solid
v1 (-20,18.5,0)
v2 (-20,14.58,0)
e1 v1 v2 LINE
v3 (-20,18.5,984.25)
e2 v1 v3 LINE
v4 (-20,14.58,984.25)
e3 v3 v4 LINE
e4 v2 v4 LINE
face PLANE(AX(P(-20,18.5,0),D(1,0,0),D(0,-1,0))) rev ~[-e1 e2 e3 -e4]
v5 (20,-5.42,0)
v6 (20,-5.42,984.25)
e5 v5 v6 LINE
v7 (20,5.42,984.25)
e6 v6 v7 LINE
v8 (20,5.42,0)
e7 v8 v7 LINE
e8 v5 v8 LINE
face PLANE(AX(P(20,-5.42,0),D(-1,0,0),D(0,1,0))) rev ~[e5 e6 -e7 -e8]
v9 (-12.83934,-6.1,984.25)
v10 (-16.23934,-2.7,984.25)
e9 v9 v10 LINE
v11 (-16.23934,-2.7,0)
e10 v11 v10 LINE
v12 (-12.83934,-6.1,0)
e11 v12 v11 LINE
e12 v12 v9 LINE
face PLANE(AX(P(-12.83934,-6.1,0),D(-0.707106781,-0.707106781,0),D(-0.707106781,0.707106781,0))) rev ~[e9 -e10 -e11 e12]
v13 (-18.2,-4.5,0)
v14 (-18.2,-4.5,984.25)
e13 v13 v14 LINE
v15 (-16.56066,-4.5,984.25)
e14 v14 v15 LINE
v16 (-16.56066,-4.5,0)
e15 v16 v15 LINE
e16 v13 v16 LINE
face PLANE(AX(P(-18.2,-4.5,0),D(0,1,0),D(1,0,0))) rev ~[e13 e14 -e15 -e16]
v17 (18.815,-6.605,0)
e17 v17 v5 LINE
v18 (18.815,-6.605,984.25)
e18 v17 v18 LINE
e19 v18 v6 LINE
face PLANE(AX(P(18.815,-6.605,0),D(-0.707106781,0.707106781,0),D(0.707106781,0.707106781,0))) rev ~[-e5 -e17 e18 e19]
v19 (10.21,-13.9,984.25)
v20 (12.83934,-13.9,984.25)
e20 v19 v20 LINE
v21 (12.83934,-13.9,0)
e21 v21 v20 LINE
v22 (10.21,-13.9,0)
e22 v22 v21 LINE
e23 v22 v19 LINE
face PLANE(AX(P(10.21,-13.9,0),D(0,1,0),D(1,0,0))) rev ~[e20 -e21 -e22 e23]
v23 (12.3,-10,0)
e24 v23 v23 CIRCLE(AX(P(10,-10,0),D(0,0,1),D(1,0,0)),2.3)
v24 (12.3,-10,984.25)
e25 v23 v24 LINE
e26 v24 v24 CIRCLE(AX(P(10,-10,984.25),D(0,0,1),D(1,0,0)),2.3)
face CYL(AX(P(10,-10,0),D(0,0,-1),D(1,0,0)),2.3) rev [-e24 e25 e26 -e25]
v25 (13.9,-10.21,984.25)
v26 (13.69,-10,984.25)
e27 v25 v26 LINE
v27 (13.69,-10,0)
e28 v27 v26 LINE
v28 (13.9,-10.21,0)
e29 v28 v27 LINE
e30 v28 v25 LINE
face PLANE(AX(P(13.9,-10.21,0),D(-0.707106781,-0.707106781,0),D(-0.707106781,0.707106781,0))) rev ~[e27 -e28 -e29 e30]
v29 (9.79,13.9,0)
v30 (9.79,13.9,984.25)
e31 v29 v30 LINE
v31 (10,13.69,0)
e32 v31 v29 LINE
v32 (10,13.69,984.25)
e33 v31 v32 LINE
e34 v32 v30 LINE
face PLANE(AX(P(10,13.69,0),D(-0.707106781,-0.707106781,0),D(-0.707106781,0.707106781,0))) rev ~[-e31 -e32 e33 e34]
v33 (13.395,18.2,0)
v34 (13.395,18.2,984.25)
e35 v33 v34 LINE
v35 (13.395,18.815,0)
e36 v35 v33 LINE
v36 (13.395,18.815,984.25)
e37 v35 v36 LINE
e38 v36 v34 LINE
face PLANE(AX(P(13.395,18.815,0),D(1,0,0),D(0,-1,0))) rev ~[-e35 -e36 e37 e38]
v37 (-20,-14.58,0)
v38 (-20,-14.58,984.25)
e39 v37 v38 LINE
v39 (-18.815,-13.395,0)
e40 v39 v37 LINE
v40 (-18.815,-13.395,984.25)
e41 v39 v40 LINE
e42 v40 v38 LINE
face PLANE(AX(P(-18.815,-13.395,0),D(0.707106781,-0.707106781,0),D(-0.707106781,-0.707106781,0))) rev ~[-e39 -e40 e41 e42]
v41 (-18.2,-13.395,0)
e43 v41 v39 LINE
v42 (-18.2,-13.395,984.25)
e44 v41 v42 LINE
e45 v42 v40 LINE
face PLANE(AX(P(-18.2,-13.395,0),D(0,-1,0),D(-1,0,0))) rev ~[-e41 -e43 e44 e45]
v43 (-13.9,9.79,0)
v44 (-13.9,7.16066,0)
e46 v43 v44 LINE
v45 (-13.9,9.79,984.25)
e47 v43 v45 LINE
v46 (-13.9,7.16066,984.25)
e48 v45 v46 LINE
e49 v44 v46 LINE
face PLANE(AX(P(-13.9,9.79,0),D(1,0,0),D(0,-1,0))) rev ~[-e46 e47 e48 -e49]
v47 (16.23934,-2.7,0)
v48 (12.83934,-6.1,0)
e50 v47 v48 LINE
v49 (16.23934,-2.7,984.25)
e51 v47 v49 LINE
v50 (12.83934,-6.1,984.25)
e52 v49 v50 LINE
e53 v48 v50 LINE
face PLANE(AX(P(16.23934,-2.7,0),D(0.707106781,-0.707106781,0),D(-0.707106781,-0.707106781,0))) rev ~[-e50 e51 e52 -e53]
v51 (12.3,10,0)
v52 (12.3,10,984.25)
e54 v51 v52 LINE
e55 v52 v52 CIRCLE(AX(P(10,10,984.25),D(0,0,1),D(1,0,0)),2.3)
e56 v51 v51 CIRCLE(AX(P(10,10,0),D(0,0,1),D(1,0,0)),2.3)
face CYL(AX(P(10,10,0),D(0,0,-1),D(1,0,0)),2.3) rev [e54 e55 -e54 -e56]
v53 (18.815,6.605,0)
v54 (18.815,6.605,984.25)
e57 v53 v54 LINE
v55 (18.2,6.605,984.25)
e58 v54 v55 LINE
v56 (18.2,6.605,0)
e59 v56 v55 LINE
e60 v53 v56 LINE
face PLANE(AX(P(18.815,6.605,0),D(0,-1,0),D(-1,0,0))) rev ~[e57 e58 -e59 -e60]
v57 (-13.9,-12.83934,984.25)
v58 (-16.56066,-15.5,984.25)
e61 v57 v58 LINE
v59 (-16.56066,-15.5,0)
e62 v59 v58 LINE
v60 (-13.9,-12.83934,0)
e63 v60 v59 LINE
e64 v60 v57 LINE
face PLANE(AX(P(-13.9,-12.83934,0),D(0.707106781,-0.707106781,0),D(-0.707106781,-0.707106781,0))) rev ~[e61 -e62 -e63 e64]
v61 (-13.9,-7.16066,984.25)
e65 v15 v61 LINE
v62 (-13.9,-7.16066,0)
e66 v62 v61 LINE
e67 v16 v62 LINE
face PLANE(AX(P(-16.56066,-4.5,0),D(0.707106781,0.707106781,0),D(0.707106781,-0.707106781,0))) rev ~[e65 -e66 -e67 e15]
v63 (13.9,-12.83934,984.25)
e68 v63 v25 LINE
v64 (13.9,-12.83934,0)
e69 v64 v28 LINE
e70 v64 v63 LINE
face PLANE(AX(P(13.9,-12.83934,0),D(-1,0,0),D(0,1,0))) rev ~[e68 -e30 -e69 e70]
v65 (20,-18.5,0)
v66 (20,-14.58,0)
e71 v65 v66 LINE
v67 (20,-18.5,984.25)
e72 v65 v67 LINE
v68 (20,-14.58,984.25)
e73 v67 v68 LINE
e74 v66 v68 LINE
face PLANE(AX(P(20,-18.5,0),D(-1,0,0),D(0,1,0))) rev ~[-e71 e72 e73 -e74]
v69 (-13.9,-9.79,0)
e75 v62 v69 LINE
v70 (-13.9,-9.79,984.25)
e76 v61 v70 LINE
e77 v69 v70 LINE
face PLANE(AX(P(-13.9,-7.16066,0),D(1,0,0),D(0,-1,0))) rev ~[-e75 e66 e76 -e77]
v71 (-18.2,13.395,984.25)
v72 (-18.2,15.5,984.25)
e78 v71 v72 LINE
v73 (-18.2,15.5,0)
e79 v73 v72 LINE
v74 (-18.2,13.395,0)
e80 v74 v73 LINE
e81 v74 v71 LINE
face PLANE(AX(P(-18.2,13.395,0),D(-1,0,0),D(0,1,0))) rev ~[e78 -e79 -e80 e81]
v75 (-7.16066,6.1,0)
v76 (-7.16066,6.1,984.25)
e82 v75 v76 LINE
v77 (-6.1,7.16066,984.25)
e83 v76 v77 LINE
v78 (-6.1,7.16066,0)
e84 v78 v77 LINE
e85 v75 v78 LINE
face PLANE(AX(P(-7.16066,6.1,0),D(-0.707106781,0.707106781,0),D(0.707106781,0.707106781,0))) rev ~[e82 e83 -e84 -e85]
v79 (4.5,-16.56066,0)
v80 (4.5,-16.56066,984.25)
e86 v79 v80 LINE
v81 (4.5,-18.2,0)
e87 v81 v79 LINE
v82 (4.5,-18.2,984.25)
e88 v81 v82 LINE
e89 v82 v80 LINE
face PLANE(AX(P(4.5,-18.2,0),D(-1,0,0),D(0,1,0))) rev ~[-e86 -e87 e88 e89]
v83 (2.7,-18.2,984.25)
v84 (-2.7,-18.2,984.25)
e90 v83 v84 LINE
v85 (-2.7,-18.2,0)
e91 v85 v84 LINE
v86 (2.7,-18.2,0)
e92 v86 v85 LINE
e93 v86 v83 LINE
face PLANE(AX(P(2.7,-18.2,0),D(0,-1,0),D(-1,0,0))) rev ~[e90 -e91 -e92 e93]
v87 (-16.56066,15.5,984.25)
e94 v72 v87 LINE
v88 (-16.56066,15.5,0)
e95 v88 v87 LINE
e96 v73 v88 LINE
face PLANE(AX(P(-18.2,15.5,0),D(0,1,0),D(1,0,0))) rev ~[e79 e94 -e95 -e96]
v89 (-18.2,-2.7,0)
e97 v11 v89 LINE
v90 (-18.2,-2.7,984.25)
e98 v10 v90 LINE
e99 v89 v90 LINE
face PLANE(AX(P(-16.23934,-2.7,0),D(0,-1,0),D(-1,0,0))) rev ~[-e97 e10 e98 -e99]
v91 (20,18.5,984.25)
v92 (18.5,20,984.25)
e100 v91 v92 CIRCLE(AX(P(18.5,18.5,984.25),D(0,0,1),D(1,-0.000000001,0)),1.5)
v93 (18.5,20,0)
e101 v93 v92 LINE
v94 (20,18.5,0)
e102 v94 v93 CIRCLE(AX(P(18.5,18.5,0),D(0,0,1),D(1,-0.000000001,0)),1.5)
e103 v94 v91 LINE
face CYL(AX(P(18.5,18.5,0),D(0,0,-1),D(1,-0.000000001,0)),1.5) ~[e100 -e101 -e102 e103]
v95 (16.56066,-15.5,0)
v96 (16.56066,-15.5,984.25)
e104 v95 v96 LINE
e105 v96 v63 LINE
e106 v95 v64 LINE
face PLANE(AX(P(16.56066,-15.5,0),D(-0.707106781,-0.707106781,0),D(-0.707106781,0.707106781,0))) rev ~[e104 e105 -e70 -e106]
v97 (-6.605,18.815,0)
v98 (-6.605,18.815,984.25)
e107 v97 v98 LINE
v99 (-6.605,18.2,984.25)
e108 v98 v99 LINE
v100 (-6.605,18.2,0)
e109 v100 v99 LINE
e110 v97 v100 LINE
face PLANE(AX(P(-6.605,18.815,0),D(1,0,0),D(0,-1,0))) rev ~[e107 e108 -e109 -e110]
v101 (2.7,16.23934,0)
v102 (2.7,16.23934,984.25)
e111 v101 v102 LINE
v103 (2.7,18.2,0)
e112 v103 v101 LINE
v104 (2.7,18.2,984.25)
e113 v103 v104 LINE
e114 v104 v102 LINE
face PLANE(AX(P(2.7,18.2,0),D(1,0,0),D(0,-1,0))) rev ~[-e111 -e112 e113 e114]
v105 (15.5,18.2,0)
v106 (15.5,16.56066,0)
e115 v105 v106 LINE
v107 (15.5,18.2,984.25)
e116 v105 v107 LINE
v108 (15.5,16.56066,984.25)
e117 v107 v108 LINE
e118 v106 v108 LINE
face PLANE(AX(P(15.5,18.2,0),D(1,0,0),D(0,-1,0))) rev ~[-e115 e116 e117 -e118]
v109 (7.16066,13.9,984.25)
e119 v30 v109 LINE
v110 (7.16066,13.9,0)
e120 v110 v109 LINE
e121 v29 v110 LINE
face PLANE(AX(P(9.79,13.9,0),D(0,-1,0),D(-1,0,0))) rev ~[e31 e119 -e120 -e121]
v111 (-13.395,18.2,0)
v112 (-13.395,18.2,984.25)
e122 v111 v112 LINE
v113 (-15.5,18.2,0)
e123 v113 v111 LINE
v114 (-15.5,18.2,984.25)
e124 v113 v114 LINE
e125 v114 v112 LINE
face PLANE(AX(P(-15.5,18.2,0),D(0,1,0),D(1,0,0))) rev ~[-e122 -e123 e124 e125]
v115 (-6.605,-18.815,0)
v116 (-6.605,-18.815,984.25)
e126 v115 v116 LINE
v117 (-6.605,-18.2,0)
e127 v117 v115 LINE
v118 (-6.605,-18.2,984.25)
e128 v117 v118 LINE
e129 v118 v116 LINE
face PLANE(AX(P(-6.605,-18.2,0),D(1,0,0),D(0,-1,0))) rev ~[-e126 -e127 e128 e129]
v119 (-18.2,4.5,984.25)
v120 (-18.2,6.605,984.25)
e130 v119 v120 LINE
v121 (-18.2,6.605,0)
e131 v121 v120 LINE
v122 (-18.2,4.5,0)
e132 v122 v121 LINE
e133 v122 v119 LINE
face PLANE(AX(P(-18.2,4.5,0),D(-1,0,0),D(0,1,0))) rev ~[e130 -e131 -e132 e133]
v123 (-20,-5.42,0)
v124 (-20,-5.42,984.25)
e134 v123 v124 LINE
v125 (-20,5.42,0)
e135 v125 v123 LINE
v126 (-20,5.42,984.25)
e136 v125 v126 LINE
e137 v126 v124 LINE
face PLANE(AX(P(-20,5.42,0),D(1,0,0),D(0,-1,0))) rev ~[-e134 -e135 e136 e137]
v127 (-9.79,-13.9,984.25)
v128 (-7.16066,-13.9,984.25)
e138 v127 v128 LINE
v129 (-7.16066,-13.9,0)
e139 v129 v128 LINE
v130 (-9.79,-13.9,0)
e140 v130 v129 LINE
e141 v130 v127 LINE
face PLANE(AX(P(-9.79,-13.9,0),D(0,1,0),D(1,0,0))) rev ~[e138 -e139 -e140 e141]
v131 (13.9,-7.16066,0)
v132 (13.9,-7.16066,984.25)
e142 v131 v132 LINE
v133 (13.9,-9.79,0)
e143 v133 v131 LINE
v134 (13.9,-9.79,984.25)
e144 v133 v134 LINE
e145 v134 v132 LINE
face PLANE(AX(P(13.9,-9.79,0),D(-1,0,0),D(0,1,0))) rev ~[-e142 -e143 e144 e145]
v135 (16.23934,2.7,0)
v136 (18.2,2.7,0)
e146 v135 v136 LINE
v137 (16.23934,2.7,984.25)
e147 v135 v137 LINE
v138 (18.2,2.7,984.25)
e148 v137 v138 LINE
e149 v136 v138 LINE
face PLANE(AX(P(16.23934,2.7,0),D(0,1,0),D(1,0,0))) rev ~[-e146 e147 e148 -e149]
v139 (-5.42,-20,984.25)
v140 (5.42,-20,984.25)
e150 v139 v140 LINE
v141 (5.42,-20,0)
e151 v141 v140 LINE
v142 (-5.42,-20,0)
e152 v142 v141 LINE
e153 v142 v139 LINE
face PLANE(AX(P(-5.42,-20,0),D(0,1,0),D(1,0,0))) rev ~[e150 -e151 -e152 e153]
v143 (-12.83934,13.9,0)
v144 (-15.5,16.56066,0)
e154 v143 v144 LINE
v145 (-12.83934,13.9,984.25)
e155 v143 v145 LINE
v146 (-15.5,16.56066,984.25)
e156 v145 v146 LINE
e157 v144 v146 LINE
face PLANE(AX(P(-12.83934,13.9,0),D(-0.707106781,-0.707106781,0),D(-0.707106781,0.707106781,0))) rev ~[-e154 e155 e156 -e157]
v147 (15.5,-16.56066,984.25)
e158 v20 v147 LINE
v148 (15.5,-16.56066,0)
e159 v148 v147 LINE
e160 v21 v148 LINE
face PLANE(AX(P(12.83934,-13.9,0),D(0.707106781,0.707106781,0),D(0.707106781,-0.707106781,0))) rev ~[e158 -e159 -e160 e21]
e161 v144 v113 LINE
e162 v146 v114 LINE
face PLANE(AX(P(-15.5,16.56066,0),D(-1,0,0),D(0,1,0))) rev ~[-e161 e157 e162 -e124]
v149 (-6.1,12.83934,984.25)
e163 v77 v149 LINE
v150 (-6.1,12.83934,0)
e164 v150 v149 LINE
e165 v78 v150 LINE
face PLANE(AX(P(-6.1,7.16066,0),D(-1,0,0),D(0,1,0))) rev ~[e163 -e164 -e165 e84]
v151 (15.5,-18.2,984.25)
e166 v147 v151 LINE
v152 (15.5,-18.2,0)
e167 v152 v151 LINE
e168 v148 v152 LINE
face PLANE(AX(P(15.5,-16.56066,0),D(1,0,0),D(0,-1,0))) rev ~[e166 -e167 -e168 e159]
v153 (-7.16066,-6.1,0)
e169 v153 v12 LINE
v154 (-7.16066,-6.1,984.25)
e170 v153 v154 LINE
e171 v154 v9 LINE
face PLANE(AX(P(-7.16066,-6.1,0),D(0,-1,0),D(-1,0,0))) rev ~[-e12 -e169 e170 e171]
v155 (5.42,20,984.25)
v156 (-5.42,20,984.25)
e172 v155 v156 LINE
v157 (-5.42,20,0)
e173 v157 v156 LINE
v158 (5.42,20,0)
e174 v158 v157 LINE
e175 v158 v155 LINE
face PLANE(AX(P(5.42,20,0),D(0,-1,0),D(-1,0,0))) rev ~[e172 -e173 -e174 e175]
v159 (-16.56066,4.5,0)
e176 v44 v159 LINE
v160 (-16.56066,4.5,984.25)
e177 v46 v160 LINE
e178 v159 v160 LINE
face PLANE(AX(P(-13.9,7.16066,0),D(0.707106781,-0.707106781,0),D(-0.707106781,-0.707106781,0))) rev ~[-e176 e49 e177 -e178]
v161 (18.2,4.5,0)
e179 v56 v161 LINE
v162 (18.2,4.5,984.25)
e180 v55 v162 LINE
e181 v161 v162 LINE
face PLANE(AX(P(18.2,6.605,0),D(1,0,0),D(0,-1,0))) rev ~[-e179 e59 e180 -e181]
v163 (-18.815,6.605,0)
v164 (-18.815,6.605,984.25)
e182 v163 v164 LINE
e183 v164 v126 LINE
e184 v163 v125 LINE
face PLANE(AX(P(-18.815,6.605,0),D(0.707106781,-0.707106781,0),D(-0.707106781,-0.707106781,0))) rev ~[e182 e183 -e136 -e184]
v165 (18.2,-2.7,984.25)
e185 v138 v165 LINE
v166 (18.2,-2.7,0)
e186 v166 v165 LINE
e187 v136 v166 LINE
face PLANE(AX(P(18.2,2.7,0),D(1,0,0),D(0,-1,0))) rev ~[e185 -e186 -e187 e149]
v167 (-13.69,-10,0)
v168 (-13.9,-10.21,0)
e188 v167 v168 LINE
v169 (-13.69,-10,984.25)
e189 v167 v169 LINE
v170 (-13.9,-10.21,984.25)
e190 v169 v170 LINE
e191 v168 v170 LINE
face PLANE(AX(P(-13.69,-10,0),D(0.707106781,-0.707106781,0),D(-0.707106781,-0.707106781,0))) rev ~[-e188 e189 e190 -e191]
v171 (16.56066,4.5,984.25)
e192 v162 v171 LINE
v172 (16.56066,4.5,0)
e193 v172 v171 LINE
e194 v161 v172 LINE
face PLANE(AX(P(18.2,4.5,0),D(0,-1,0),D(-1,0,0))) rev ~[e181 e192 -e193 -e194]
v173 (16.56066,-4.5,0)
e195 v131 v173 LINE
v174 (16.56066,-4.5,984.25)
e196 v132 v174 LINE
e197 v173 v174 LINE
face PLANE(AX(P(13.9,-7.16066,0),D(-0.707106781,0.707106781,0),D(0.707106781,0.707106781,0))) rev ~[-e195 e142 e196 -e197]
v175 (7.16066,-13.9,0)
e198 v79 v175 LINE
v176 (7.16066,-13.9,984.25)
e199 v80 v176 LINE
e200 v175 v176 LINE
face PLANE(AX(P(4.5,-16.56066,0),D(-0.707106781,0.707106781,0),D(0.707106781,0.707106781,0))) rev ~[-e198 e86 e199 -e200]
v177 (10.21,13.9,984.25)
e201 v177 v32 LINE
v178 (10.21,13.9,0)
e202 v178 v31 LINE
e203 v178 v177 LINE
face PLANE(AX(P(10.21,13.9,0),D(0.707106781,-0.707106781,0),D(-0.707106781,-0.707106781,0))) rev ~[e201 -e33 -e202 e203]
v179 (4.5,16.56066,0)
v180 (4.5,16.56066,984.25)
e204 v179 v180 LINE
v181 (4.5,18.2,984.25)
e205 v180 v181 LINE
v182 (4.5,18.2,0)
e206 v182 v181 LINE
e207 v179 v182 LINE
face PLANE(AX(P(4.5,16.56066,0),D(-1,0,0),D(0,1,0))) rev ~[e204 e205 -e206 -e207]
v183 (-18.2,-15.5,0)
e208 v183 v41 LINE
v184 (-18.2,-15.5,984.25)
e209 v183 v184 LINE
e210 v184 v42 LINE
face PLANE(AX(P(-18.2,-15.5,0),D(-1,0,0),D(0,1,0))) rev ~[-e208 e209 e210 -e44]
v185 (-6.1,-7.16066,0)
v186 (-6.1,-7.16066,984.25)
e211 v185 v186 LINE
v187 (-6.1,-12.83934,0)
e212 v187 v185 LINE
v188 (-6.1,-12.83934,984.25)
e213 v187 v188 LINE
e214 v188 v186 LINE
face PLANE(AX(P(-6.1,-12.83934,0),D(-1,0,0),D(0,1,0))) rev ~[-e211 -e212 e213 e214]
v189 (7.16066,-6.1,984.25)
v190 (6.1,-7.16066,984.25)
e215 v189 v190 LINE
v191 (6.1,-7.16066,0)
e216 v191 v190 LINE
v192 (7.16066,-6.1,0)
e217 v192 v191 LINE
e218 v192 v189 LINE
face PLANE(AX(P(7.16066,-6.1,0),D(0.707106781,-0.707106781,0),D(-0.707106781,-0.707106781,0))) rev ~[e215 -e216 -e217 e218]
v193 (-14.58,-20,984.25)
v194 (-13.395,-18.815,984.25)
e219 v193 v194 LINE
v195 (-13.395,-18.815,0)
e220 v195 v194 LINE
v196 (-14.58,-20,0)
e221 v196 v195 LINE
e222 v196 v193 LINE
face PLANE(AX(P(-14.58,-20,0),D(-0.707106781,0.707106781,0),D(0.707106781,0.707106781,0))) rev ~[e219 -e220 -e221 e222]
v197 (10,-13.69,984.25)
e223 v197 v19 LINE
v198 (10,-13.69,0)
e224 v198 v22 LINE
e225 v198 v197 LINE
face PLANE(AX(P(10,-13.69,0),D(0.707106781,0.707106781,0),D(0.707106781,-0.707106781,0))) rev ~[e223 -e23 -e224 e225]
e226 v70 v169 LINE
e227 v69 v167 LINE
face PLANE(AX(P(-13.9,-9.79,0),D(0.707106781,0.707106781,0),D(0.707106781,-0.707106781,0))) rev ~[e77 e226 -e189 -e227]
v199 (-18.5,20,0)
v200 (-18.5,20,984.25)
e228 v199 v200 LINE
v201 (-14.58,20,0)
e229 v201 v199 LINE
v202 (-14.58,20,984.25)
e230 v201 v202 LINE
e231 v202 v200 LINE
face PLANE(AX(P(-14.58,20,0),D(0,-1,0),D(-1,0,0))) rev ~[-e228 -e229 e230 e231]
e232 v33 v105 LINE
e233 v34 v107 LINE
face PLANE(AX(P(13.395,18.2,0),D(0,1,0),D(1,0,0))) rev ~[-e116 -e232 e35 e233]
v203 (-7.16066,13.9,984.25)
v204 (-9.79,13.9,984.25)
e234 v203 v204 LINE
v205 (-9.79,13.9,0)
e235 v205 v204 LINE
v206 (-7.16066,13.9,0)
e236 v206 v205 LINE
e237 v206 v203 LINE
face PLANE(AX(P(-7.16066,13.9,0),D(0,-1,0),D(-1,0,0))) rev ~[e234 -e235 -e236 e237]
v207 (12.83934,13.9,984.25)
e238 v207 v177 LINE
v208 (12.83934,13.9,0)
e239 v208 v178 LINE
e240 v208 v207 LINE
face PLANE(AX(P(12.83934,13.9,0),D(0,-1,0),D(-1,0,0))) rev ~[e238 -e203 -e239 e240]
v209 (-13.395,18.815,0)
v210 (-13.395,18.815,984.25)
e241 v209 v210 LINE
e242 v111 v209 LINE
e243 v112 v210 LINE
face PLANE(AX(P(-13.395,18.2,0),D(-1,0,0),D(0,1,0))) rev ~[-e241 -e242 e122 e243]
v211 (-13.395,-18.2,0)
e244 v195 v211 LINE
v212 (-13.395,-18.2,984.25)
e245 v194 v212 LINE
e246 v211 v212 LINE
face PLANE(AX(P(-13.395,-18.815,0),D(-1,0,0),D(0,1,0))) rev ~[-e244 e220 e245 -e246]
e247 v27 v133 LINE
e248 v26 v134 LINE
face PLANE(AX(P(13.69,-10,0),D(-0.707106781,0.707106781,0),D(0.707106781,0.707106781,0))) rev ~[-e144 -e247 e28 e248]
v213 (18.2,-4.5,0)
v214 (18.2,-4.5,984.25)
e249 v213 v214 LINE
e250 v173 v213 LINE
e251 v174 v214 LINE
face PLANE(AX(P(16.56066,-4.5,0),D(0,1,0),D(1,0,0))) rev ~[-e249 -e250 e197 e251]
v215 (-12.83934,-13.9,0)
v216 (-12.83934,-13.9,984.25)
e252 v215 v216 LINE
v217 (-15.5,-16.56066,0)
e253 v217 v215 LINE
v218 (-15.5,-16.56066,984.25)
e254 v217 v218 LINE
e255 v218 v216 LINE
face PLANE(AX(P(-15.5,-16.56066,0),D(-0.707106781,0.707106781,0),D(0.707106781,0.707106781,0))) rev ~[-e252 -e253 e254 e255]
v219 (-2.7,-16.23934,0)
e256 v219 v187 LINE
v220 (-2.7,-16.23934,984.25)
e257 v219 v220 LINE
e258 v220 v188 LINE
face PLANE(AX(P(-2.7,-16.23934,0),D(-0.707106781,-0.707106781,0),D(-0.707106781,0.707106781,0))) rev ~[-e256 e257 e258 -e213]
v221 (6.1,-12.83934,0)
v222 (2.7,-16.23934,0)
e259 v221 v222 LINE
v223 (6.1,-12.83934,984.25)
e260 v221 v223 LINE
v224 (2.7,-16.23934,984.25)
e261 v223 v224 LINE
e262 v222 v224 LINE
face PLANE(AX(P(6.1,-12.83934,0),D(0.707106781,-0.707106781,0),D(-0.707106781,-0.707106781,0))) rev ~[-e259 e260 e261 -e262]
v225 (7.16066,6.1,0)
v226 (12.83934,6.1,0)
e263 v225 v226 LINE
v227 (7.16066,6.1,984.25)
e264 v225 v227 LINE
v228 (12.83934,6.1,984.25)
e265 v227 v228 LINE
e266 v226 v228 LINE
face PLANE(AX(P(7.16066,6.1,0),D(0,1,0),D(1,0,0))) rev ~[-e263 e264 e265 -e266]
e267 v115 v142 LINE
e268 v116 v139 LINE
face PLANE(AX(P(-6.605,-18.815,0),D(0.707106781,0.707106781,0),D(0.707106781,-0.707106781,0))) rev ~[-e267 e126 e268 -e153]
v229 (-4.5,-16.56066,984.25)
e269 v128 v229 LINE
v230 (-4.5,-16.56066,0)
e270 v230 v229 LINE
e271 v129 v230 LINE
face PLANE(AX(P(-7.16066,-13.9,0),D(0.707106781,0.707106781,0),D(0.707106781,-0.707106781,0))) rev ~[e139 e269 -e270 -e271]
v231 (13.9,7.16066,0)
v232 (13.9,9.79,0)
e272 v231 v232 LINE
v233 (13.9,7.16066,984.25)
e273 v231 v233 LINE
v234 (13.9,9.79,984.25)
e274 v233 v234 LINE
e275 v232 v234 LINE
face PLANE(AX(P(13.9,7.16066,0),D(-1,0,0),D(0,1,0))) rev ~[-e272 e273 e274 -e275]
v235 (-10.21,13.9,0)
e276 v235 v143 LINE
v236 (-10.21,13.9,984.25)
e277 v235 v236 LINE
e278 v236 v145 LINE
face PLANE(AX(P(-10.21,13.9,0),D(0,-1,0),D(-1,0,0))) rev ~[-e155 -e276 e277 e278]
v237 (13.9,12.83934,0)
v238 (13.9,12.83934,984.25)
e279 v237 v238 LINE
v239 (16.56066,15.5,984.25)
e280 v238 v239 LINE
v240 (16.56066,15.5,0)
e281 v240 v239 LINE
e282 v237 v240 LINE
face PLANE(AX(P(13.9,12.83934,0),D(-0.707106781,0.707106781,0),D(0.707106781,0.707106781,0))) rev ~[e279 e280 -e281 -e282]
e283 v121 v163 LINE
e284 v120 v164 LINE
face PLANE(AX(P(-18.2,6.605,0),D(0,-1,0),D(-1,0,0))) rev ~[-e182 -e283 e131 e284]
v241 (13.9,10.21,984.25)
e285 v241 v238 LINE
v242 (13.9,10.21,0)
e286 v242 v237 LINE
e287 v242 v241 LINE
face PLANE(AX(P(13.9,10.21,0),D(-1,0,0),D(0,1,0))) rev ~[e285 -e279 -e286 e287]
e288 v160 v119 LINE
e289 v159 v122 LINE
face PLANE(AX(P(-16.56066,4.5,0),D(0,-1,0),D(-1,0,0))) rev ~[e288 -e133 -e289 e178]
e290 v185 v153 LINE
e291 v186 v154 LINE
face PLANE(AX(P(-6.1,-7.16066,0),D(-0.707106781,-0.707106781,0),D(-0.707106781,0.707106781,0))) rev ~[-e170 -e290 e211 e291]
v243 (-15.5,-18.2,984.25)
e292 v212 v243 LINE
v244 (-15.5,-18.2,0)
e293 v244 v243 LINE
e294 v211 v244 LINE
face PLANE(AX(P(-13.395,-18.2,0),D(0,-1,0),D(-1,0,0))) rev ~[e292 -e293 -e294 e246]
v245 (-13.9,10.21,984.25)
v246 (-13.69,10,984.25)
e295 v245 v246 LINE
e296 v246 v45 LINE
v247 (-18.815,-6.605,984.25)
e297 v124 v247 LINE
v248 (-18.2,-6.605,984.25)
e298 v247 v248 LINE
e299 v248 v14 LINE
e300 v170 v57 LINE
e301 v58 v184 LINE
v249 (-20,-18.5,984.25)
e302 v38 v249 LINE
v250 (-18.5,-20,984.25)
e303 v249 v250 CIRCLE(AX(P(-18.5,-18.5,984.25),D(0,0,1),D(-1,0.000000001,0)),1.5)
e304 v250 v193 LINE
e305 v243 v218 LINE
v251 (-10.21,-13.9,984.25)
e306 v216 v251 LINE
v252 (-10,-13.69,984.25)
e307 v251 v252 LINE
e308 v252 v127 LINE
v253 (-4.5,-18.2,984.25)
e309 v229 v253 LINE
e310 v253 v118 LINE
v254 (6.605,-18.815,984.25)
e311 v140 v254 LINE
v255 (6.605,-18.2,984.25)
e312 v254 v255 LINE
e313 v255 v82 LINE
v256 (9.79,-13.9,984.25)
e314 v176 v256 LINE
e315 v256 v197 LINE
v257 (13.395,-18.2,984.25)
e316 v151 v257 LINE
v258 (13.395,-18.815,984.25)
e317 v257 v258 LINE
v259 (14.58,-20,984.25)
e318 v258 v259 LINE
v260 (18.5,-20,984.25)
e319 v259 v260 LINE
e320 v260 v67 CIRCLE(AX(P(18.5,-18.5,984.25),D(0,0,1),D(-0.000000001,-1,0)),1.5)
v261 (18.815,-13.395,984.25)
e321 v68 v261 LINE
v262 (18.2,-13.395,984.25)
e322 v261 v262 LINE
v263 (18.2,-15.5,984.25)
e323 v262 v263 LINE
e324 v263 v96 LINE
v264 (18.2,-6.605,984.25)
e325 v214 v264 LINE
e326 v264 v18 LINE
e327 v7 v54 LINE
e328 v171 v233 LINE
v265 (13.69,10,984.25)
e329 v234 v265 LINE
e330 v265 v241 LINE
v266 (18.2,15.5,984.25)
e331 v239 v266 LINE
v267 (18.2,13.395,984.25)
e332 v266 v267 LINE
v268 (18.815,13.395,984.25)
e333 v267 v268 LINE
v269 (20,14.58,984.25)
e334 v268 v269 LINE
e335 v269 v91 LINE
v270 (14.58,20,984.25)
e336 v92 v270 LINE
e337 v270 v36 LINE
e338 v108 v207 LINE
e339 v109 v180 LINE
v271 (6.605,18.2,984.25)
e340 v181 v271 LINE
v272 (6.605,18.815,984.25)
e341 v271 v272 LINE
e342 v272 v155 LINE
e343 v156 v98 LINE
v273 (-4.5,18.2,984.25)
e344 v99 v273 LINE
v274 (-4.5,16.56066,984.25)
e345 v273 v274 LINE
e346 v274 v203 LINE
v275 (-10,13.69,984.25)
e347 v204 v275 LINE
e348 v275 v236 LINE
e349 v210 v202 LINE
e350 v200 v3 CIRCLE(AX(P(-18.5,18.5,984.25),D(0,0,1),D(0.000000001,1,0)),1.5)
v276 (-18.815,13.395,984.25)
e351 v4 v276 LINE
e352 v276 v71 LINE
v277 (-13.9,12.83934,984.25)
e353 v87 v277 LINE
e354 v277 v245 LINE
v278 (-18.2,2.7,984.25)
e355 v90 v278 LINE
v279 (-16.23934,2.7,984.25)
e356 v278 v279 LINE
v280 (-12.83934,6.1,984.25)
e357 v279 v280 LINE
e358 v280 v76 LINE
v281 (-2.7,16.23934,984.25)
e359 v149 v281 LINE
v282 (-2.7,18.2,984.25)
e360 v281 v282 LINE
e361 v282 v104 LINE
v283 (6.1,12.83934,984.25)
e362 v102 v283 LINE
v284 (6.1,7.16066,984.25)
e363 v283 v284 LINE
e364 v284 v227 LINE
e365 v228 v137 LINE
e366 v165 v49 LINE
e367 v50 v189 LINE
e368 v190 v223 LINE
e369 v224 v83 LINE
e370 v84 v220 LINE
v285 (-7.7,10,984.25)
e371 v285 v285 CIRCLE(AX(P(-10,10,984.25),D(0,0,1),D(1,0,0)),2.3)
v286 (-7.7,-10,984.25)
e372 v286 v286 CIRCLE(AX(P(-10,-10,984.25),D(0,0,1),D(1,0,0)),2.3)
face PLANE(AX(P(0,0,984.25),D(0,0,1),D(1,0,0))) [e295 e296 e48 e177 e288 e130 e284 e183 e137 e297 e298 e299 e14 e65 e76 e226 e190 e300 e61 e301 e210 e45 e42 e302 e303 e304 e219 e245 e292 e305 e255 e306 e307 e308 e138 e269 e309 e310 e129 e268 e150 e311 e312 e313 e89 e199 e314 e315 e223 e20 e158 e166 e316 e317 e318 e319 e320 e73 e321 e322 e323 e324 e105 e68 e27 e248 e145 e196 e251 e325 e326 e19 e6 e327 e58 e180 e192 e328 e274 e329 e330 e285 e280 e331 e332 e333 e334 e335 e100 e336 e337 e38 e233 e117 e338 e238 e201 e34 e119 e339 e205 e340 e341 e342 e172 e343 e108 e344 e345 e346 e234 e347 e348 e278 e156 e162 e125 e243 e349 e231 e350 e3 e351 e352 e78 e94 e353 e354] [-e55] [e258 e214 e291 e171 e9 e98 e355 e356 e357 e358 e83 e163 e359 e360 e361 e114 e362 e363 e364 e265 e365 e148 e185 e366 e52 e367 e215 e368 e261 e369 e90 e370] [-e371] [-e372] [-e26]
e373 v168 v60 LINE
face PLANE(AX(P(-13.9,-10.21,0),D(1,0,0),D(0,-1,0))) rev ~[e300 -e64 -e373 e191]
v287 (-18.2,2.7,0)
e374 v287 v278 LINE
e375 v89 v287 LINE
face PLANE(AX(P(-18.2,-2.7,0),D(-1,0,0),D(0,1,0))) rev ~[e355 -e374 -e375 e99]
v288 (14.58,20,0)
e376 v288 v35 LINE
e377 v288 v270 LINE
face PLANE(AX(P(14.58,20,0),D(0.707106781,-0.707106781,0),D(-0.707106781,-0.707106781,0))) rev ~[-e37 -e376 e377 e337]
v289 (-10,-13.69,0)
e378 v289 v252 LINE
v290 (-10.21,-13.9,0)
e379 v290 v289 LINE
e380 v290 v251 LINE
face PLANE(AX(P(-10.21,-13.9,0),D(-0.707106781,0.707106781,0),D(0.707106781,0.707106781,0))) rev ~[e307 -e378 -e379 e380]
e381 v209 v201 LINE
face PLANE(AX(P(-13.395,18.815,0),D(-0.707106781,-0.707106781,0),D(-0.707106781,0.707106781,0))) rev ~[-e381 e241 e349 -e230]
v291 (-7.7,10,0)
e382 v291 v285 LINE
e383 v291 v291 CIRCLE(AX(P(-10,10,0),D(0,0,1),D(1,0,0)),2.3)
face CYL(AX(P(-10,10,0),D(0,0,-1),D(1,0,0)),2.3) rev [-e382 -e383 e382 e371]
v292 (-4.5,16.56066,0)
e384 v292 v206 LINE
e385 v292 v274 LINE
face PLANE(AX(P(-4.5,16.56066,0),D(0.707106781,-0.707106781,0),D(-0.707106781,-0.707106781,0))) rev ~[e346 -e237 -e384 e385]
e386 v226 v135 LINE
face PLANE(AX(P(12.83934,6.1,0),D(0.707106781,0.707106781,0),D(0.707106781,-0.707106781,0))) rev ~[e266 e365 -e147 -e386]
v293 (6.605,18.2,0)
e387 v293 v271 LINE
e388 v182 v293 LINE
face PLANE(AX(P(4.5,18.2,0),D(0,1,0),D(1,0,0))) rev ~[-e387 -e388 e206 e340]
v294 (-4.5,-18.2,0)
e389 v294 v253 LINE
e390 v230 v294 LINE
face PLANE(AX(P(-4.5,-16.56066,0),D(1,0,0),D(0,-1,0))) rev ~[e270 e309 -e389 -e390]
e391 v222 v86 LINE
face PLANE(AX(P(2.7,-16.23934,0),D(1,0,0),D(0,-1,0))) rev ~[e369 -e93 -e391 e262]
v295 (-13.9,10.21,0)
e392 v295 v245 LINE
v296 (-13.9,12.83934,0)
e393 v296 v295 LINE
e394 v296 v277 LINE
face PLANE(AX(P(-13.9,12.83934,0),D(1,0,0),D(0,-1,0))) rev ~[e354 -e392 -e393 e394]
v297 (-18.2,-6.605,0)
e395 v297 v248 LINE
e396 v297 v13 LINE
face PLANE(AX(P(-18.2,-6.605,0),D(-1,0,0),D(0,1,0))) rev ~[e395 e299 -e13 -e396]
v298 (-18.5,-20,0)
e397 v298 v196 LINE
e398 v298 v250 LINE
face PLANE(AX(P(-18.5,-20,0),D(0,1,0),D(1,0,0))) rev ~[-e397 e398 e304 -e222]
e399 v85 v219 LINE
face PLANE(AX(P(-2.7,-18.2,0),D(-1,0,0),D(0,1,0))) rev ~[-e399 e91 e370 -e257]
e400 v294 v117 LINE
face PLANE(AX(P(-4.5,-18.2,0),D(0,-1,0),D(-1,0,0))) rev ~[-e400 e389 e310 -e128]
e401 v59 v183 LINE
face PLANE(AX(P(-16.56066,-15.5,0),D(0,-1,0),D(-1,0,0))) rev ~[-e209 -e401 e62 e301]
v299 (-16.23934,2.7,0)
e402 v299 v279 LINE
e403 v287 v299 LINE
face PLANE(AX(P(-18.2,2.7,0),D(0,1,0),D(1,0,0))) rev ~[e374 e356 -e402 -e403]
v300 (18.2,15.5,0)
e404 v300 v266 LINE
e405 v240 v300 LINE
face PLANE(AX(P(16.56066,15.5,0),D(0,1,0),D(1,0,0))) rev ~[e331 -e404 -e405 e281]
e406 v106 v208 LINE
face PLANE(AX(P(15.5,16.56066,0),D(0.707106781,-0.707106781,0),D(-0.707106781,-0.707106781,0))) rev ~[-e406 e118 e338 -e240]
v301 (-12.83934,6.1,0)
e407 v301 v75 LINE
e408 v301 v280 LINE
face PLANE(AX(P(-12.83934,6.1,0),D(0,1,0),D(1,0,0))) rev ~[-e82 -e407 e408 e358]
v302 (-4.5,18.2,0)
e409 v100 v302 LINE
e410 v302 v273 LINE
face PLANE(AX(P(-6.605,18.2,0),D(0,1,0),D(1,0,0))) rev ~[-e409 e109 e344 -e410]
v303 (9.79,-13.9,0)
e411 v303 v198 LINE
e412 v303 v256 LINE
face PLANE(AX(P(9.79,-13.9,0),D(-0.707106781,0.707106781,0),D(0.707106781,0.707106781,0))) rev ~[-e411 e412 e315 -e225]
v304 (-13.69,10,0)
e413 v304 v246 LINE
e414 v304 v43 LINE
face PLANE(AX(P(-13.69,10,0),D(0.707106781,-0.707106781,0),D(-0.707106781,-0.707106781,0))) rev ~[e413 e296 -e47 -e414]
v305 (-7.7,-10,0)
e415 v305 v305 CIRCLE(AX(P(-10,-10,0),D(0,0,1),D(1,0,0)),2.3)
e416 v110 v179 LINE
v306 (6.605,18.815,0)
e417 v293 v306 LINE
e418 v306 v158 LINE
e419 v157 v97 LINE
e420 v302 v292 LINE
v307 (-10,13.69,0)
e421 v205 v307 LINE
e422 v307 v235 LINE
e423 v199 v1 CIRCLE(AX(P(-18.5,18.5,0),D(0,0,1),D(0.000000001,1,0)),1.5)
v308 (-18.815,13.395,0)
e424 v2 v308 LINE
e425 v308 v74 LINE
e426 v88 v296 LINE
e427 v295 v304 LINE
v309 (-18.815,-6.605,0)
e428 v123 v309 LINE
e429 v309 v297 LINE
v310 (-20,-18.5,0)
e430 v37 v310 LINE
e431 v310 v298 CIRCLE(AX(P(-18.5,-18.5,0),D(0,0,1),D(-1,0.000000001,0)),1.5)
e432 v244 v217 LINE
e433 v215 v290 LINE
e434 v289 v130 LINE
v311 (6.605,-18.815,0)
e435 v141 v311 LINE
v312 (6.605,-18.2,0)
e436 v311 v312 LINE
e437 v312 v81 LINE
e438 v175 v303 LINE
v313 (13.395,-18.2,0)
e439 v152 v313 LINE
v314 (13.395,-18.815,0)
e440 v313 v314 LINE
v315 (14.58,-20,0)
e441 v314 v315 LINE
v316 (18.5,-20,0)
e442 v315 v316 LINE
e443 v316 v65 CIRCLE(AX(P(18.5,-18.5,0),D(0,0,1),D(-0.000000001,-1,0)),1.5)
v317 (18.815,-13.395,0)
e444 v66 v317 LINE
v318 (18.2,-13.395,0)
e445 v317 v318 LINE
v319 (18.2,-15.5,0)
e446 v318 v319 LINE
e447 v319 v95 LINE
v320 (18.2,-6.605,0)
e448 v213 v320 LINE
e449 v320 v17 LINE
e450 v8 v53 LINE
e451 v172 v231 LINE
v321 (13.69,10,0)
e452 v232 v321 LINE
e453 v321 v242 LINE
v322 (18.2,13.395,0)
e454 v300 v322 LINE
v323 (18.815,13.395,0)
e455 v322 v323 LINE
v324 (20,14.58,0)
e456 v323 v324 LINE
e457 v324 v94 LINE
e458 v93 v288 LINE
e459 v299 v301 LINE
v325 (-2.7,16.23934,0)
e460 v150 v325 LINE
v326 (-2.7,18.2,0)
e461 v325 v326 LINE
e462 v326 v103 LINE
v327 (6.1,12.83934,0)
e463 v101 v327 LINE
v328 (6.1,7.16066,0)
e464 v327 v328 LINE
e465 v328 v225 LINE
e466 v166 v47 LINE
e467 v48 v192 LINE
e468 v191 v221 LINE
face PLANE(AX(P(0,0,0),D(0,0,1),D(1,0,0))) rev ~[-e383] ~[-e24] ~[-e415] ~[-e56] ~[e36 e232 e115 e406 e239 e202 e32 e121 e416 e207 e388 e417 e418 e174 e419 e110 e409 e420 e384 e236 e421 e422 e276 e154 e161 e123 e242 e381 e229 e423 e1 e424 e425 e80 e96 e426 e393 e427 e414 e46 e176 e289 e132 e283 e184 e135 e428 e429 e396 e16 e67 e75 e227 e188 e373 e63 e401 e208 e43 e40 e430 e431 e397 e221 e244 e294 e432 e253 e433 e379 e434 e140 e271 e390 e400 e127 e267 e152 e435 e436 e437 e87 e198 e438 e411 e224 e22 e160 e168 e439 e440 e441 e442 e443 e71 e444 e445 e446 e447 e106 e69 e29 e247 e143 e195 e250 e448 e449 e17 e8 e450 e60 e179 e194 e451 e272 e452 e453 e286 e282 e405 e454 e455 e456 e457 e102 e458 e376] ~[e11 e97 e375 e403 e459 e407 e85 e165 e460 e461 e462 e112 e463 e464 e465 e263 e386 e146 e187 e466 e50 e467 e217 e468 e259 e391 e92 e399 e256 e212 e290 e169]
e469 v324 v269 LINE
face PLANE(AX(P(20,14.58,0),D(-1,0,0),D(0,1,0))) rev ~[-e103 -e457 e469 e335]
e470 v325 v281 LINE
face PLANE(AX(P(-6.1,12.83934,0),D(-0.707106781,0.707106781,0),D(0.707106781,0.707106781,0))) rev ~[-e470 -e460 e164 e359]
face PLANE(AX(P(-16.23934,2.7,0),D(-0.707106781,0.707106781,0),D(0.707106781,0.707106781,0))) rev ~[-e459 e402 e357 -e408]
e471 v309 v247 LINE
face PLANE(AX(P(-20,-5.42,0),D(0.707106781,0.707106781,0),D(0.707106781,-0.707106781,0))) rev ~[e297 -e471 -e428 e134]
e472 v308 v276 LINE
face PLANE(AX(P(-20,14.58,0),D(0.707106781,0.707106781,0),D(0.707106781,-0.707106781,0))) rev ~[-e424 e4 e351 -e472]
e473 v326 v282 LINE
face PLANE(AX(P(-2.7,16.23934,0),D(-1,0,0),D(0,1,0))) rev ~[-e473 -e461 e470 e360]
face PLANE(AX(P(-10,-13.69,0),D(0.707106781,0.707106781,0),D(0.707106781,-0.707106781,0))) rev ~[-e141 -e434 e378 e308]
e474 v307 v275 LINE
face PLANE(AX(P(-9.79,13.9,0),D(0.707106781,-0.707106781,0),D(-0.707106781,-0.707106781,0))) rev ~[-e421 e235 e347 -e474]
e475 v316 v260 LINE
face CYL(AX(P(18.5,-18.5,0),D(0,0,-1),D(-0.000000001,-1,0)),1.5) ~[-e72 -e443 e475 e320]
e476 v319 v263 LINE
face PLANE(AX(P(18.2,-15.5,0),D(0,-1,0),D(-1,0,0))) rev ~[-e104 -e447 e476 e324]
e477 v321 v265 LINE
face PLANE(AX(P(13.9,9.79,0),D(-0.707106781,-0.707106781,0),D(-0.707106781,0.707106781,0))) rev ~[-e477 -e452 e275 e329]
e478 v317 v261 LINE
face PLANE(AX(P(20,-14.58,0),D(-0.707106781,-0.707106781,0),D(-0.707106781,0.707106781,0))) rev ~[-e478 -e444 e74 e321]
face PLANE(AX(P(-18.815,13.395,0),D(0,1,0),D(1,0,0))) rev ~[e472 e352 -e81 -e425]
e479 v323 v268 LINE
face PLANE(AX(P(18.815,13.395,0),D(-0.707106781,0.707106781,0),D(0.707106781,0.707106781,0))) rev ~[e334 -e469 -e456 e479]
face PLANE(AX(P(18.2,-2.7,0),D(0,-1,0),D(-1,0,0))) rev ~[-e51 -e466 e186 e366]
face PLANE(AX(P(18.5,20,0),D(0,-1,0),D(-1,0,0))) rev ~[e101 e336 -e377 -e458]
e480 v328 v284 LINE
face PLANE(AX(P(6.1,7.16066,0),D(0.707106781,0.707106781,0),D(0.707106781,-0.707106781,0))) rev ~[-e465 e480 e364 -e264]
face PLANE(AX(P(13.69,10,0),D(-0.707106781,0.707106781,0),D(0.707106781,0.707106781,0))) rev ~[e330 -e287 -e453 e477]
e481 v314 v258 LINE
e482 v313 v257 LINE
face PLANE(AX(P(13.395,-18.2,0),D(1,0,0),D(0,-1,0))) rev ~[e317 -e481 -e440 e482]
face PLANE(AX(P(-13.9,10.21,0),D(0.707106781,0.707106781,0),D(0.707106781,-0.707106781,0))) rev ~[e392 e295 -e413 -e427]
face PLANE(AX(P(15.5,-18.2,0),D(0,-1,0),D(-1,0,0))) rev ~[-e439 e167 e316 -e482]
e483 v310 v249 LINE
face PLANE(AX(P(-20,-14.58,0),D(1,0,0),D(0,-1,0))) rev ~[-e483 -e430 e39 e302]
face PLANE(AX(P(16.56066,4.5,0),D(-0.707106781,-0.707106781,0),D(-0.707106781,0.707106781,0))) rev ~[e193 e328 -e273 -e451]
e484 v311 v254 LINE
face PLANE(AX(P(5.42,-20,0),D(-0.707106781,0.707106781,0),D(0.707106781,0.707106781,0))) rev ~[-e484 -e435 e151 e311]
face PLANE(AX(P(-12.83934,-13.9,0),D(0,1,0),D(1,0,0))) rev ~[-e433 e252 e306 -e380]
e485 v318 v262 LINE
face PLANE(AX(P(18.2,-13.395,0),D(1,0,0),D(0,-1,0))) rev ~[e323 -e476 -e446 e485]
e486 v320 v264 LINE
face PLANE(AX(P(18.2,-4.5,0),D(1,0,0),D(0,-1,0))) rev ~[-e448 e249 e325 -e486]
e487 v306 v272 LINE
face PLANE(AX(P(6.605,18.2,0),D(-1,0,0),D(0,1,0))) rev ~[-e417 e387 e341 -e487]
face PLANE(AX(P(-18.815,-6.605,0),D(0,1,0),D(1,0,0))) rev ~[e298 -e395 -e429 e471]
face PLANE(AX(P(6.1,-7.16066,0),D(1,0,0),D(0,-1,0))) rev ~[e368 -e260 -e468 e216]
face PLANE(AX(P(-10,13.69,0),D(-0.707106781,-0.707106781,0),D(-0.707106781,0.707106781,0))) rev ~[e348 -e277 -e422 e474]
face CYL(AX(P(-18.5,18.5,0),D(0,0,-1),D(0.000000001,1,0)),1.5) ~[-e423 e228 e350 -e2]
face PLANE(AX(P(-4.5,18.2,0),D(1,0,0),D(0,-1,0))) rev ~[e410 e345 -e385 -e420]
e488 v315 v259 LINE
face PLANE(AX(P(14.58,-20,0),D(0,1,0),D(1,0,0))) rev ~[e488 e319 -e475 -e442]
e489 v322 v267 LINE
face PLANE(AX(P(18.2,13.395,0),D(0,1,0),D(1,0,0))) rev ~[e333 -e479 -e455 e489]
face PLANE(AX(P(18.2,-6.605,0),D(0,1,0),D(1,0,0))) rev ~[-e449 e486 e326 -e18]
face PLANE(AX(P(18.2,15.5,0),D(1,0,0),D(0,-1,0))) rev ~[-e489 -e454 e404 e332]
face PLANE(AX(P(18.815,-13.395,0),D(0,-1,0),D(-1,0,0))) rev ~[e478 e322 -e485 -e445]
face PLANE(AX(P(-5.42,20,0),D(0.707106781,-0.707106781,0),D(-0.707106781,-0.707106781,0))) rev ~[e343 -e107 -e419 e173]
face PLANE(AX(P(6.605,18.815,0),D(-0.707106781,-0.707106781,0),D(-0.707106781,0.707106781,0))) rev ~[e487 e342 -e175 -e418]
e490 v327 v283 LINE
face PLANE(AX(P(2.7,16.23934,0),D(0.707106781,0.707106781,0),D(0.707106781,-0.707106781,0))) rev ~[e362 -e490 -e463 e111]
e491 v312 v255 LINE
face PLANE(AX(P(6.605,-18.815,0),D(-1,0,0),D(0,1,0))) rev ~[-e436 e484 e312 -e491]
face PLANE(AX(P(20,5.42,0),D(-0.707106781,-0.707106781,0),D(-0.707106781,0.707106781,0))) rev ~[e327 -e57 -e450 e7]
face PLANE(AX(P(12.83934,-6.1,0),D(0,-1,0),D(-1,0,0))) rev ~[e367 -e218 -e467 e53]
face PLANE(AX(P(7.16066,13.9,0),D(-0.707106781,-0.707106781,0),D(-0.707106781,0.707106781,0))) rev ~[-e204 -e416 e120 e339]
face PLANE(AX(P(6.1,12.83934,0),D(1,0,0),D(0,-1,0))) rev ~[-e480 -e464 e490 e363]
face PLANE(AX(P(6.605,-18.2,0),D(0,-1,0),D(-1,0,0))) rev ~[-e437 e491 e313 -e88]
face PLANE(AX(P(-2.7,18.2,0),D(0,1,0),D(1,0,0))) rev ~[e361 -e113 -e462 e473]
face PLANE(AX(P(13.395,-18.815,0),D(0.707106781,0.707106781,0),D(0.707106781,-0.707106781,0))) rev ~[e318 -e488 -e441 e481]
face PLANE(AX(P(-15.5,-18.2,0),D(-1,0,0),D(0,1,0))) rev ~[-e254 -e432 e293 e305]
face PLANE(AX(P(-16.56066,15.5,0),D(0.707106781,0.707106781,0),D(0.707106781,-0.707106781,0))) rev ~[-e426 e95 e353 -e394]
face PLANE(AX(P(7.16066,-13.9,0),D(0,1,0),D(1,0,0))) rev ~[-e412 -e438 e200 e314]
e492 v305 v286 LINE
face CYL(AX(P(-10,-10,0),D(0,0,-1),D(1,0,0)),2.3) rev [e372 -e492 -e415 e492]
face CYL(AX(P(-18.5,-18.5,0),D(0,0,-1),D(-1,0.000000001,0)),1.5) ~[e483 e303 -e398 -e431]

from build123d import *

# Parameters (mm, degrees)
SKETCH1_R           = 2.3
BOSS_EXTRUDE1_DEPTH = 984.25


with BuildPart() as part:
    # Sketch1 → Boss-Extrude1 (new body)
    with BuildSketch(Plane.XY):
        with BuildLine():
            Line((14.58, -20), (18.5, -20))
            ThreePointArc((18.5, -20), (19.560660172, -19.560660172), (20, -18.5))
            Line((20, -18.5), (20, -14.58))
            Line((20, -14.58), (18.815, -13.395))
            Line((18.815, -13.395), (18.2, -13.395))
            Line((18.2, -13.395), (18.2, -15.5))
            Line((18.2, -15.5), (16.560660172, -15.5))
            Line((16.560660172, -15.5), (13.9, -12.839339828))
            Line((13.9, -12.839339828), (13.9, -10.21))
            Line((13.9, -10.21), (13.69, -10))
            Line((13.69, -10), (13.9, -9.79))
            Line((13.9, -9.79), (13.9, -7.160660172))
            Line((13.9, -7.160660172), (16.560660172, -4.5))
            Line((16.560660172, -4.5), (18.2, -4.5))
            Line((18.2, -4.5), (18.2, -6.605))
            Line((18.2, -6.605), (18.815, -6.605))
            Line((18.815, -6.605), (20, -5.42))
            Line((20, -5.42), (20, 5.42))
            Line((20, 5.42), (18.815, 6.605))
            Line((18.815, 6.605), (18.2, 6.605))
            Line((18.2, 6.605), (18.2, 4.5))
            Line((18.2, 4.5), (16.560660172, 4.5))
            Line((16.560660172, 4.5), (13.9, 7.160660172))
            Line((13.9, 7.160660172), (13.9, 9.79))
            Line((13.9, 9.79), (13.69, 10))
            Line((13.69, 10), (13.9, 10.21))
            Line((13.9, 10.21), (13.9, 12.839339828))
            Line((13.9, 12.839339828), (16.560660172, 15.5))
            Line((16.560660172, 15.5), (18.2, 15.5))
            Line((18.2, 15.5), (18.2, 13.395))
            Line((18.2, 13.395), (18.815, 13.395))
            Line((18.815, 13.395), (20, 14.58))
            Line((20, 14.58), (20, 18.5))
            ThreePointArc((20, 18.5), (19.560660172, 19.560660172), (18.5, 20))
            Line((18.5, 20), (14.58, 20))
            Line((14.58, 20), (13.395, 18.815))
            Line((13.395, 18.815), (13.395, 18.2))
            Line((13.395, 18.2), (15.5, 18.2))
            Line((15.5, 18.2), (15.5, 16.560660172))
            Line((15.5, 16.560660172), (12.839339828, 13.9))
            Line((12.839339828, 13.9), (10.21, 13.9))
            Line((10.21, 13.9), (10, 13.69))
            Line((10, 13.69), (9.79, 13.9))
            Line((9.79, 13.9), (7.160660172, 13.9))
            Line((7.160660172, 13.9), (4.5, 16.560660172))
            Line((4.5, 16.560660172), (4.5, 18.2))
            Line((4.5, 18.2), (6.605, 18.2))
            Line((6.605, 18.2), (6.605, 18.815))
            Line((6.605, 18.815), (5.42, 20))
            Line((5.42, 20), (-5.42, 20))
            Line((-5.42, 20), (-6.605, 18.815))
            Line((-6.605, 18.815), (-6.605, 18.2))
            Line((-6.605, 18.2), (-4.5, 18.2))
            Line((-4.5, 18.2), (-4.5, 16.560660172))
            Line((-4.5, 16.560660172), (-7.160660172, 13.9))
            Line((-7.160660172, 13.9), (-9.79, 13.9))
            Line((-9.79, 13.9), (-10, 13.69))
            Line((-10, 13.69), (-10.21, 13.9))
            Line((-10.21, 13.9), (-12.839339828, 13.9))
            Line((-12.839339828, 13.9), (-15.5, 16.560660172))
            Line((-15.5, 16.560660172), (-15.5, 18.2))
            Line((-15.5, 18.2), (-13.395, 18.2))
            Line((-13.395, 18.2), (-13.395, 18.815))
            Line((-13.395, 18.815), (-14.58, 20))
            Line((-14.58, 20), (-18.5, 20))
            ThreePointArc((-18.5, 20), (-19.560660172, 19.560660172), (-20, 18.5))
            Line((-20, 18.5), (-20, 14.58))
            Line((-20, 14.58), (-18.815, 13.395))
            Line((-18.815, 13.395), (-18.2, 13.395))
            Line((-18.2, 13.395), (-18.2, 15.5))
            Line((-18.2, 15.5), (-16.560660172, 15.5))
            Line((-16.560660172, 15.5), (-13.9, 12.839339828))
            Line((-13.9, 12.839339828), (-13.9, 10.21))
            Line((-13.9, 10.21), (-13.69, 10))
            Line((-13.69, 10), (-13.9, 9.79))
            Line((-13.9, 9.79), (-13.9, 7.160660172))
            Line((-13.9, 7.160660172), (-16.560660172, 4.5))
            Line((-16.560660172, 4.5), (-18.2, 4.5))
            Line((-18.2, 4.5), (-18.2, 6.605))
            Line((-18.2, 6.605), (-18.815, 6.605))
            Line((-18.815, 6.605), (-20, 5.42))
            Line((-20, 5.42), (-20, -5.42))
            Line((-20, -5.42), (-18.815, -6.605))
            Line((-18.815, -6.605), (-18.2, -6.605))
            Line((-18.2, -6.605), (-18.2, -4.5))
            Line((-18.2, -4.5), (-16.560660172, -4.5))
            Line((-16.560660172, -4.5), (-13.9, -7.160660172))
            Line((-13.9, -7.160660172), (-13.9, -9.79))
            Line((-13.9, -9.79), (-13.69, -10))
            Line((-13.69, -10), (-13.9, -10.21))
            Line((-13.9, -10.21), (-13.9, -12.839339828))
            Line((-13.9, -12.839339828), (-16.560660172, -15.5))
            Line((-16.560660172, -15.5), (-18.2, -15.5))
            Line((-18.2, -15.5), (-18.2, -13.395))
            Line((-18.2, -13.395), (-18.815, -13.395))
            Line((-18.815, -13.395), (-20, -14.58))
            Line((-20, -14.58), (-20, -18.5))
            ThreePointArc((-20, -18.5), (-19.560660172, -19.560660172), (-18.5, -20))
            Line((-18.5, -20), (-14.58, -20))
            Line((-14.58, -20), (-13.395, -18.815))
            Line((-13.395, -18.815), (-13.395, -18.2))
            Line((-13.395, -18.2), (-15.5, -18.2))
            Line((-15.5, -18.2), (-15.5, -16.560660172))
            Line((-15.5, -16.560660172), (-12.839339828, -13.9))
            Line((-12.839339828, -13.9), (-10.21, -13.9))
            Line((-10.21, -13.9), (-10, -13.69))
            Line((-10, -13.69), (-9.79, -13.9))
            Line((-9.79, -13.9), (-7.160660172, -13.9))
            Line((-7.160660172, -13.9), (-4.5, -16.560660172))
            Line((-4.5, -16.560660172), (-4.5, -18.2))
            Line((-4.5, -18.2), (-6.605, -18.2))
            Line((-6.605, -18.2), (-6.605, -18.815))
            Line((-6.605, -18.815), (-5.42, -20))
            Line((-5.42, -20), (5.42, -20))
            Line((5.42, -20), (6.605, -18.815))
            Line((6.605, -18.815), (6.605, -18.2))
            Line((6.605, -18.2), (4.5, -18.2))
            Line((4.5, -18.2), (4.5, -16.560660172))
            Line((4.5, -16.560660172), (7.160660172, -13.9))
            Line((7.160660172, -13.9), (9.79, -13.9))
            Line((9.79, -13.9), (10, -13.69))
            Line((10, -13.69), (10.21, -13.9))
            Line((10.21, -13.9), (12.839339828, -13.9))
            Line((12.839339828, -13.9), (15.5, -16.560660172))
            Line((15.5, -16.560660172), (15.5, -18.2))
            Line((15.5, -18.2), (13.395, -18.2))
            Line((13.395, -18.2), (13.395, -18.815))
            Line((13.395, -18.815), (14.58, -20))
        make_face()
        with Locations((-10, -10)):
            Circle(SKETCH1_R, mode=Mode.SUBTRACT)
        with Locations((10, -10)):
            Circle(SKETCH1_R, mode=Mode.SUBTRACT)
        Polygon((-16.239339828, -2.7), (-18.2, -2.7), (-18.2, 2.7), (-16.239339828, 2.7), (-12.839339828, 6.1), (-7.160660172, 6.1), (-6.1, 7.160660172), (-6.1, 12.839339828), (-2.7, 16.239339828), (-2.7, 18.2), (2.7, 18.2), (2.7, 16.239339828), (6.1, 12.839339828), (6.1, 7.160660172), (7.160660172, 6.1), (12.839339828, 6.1), (16.239339828, 2.7), (18.2, 2.7), (18.2, -2.7), (16.239339828, -2.7), (12.839339828, -6.1), (7.160660172, -6.1), (6.1, -7.160660172), (6.1, -12.839339828), (2.7, -16.239339828), (2.7, -18.2), (-2.7, -18.2), (-2.7, -16.239339828), (-6.1, -12.839339828), (-6.1, -7.160660172), (-7.160660172, -6.1), (-12.839339828, -6.1), align=None, mode=Mode.SUBTRACT)
        with Locations((-10, 10)):
            Circle(SKETCH1_R, mode=Mode.SUBTRACT)
        with Locations((10, 10)):
            Circle(SKETCH1_R, mode=Mode.SUBTRACT)
    extrude(amount=BOSS_EXTRUDE1_DEPTH)


solid = part.part
